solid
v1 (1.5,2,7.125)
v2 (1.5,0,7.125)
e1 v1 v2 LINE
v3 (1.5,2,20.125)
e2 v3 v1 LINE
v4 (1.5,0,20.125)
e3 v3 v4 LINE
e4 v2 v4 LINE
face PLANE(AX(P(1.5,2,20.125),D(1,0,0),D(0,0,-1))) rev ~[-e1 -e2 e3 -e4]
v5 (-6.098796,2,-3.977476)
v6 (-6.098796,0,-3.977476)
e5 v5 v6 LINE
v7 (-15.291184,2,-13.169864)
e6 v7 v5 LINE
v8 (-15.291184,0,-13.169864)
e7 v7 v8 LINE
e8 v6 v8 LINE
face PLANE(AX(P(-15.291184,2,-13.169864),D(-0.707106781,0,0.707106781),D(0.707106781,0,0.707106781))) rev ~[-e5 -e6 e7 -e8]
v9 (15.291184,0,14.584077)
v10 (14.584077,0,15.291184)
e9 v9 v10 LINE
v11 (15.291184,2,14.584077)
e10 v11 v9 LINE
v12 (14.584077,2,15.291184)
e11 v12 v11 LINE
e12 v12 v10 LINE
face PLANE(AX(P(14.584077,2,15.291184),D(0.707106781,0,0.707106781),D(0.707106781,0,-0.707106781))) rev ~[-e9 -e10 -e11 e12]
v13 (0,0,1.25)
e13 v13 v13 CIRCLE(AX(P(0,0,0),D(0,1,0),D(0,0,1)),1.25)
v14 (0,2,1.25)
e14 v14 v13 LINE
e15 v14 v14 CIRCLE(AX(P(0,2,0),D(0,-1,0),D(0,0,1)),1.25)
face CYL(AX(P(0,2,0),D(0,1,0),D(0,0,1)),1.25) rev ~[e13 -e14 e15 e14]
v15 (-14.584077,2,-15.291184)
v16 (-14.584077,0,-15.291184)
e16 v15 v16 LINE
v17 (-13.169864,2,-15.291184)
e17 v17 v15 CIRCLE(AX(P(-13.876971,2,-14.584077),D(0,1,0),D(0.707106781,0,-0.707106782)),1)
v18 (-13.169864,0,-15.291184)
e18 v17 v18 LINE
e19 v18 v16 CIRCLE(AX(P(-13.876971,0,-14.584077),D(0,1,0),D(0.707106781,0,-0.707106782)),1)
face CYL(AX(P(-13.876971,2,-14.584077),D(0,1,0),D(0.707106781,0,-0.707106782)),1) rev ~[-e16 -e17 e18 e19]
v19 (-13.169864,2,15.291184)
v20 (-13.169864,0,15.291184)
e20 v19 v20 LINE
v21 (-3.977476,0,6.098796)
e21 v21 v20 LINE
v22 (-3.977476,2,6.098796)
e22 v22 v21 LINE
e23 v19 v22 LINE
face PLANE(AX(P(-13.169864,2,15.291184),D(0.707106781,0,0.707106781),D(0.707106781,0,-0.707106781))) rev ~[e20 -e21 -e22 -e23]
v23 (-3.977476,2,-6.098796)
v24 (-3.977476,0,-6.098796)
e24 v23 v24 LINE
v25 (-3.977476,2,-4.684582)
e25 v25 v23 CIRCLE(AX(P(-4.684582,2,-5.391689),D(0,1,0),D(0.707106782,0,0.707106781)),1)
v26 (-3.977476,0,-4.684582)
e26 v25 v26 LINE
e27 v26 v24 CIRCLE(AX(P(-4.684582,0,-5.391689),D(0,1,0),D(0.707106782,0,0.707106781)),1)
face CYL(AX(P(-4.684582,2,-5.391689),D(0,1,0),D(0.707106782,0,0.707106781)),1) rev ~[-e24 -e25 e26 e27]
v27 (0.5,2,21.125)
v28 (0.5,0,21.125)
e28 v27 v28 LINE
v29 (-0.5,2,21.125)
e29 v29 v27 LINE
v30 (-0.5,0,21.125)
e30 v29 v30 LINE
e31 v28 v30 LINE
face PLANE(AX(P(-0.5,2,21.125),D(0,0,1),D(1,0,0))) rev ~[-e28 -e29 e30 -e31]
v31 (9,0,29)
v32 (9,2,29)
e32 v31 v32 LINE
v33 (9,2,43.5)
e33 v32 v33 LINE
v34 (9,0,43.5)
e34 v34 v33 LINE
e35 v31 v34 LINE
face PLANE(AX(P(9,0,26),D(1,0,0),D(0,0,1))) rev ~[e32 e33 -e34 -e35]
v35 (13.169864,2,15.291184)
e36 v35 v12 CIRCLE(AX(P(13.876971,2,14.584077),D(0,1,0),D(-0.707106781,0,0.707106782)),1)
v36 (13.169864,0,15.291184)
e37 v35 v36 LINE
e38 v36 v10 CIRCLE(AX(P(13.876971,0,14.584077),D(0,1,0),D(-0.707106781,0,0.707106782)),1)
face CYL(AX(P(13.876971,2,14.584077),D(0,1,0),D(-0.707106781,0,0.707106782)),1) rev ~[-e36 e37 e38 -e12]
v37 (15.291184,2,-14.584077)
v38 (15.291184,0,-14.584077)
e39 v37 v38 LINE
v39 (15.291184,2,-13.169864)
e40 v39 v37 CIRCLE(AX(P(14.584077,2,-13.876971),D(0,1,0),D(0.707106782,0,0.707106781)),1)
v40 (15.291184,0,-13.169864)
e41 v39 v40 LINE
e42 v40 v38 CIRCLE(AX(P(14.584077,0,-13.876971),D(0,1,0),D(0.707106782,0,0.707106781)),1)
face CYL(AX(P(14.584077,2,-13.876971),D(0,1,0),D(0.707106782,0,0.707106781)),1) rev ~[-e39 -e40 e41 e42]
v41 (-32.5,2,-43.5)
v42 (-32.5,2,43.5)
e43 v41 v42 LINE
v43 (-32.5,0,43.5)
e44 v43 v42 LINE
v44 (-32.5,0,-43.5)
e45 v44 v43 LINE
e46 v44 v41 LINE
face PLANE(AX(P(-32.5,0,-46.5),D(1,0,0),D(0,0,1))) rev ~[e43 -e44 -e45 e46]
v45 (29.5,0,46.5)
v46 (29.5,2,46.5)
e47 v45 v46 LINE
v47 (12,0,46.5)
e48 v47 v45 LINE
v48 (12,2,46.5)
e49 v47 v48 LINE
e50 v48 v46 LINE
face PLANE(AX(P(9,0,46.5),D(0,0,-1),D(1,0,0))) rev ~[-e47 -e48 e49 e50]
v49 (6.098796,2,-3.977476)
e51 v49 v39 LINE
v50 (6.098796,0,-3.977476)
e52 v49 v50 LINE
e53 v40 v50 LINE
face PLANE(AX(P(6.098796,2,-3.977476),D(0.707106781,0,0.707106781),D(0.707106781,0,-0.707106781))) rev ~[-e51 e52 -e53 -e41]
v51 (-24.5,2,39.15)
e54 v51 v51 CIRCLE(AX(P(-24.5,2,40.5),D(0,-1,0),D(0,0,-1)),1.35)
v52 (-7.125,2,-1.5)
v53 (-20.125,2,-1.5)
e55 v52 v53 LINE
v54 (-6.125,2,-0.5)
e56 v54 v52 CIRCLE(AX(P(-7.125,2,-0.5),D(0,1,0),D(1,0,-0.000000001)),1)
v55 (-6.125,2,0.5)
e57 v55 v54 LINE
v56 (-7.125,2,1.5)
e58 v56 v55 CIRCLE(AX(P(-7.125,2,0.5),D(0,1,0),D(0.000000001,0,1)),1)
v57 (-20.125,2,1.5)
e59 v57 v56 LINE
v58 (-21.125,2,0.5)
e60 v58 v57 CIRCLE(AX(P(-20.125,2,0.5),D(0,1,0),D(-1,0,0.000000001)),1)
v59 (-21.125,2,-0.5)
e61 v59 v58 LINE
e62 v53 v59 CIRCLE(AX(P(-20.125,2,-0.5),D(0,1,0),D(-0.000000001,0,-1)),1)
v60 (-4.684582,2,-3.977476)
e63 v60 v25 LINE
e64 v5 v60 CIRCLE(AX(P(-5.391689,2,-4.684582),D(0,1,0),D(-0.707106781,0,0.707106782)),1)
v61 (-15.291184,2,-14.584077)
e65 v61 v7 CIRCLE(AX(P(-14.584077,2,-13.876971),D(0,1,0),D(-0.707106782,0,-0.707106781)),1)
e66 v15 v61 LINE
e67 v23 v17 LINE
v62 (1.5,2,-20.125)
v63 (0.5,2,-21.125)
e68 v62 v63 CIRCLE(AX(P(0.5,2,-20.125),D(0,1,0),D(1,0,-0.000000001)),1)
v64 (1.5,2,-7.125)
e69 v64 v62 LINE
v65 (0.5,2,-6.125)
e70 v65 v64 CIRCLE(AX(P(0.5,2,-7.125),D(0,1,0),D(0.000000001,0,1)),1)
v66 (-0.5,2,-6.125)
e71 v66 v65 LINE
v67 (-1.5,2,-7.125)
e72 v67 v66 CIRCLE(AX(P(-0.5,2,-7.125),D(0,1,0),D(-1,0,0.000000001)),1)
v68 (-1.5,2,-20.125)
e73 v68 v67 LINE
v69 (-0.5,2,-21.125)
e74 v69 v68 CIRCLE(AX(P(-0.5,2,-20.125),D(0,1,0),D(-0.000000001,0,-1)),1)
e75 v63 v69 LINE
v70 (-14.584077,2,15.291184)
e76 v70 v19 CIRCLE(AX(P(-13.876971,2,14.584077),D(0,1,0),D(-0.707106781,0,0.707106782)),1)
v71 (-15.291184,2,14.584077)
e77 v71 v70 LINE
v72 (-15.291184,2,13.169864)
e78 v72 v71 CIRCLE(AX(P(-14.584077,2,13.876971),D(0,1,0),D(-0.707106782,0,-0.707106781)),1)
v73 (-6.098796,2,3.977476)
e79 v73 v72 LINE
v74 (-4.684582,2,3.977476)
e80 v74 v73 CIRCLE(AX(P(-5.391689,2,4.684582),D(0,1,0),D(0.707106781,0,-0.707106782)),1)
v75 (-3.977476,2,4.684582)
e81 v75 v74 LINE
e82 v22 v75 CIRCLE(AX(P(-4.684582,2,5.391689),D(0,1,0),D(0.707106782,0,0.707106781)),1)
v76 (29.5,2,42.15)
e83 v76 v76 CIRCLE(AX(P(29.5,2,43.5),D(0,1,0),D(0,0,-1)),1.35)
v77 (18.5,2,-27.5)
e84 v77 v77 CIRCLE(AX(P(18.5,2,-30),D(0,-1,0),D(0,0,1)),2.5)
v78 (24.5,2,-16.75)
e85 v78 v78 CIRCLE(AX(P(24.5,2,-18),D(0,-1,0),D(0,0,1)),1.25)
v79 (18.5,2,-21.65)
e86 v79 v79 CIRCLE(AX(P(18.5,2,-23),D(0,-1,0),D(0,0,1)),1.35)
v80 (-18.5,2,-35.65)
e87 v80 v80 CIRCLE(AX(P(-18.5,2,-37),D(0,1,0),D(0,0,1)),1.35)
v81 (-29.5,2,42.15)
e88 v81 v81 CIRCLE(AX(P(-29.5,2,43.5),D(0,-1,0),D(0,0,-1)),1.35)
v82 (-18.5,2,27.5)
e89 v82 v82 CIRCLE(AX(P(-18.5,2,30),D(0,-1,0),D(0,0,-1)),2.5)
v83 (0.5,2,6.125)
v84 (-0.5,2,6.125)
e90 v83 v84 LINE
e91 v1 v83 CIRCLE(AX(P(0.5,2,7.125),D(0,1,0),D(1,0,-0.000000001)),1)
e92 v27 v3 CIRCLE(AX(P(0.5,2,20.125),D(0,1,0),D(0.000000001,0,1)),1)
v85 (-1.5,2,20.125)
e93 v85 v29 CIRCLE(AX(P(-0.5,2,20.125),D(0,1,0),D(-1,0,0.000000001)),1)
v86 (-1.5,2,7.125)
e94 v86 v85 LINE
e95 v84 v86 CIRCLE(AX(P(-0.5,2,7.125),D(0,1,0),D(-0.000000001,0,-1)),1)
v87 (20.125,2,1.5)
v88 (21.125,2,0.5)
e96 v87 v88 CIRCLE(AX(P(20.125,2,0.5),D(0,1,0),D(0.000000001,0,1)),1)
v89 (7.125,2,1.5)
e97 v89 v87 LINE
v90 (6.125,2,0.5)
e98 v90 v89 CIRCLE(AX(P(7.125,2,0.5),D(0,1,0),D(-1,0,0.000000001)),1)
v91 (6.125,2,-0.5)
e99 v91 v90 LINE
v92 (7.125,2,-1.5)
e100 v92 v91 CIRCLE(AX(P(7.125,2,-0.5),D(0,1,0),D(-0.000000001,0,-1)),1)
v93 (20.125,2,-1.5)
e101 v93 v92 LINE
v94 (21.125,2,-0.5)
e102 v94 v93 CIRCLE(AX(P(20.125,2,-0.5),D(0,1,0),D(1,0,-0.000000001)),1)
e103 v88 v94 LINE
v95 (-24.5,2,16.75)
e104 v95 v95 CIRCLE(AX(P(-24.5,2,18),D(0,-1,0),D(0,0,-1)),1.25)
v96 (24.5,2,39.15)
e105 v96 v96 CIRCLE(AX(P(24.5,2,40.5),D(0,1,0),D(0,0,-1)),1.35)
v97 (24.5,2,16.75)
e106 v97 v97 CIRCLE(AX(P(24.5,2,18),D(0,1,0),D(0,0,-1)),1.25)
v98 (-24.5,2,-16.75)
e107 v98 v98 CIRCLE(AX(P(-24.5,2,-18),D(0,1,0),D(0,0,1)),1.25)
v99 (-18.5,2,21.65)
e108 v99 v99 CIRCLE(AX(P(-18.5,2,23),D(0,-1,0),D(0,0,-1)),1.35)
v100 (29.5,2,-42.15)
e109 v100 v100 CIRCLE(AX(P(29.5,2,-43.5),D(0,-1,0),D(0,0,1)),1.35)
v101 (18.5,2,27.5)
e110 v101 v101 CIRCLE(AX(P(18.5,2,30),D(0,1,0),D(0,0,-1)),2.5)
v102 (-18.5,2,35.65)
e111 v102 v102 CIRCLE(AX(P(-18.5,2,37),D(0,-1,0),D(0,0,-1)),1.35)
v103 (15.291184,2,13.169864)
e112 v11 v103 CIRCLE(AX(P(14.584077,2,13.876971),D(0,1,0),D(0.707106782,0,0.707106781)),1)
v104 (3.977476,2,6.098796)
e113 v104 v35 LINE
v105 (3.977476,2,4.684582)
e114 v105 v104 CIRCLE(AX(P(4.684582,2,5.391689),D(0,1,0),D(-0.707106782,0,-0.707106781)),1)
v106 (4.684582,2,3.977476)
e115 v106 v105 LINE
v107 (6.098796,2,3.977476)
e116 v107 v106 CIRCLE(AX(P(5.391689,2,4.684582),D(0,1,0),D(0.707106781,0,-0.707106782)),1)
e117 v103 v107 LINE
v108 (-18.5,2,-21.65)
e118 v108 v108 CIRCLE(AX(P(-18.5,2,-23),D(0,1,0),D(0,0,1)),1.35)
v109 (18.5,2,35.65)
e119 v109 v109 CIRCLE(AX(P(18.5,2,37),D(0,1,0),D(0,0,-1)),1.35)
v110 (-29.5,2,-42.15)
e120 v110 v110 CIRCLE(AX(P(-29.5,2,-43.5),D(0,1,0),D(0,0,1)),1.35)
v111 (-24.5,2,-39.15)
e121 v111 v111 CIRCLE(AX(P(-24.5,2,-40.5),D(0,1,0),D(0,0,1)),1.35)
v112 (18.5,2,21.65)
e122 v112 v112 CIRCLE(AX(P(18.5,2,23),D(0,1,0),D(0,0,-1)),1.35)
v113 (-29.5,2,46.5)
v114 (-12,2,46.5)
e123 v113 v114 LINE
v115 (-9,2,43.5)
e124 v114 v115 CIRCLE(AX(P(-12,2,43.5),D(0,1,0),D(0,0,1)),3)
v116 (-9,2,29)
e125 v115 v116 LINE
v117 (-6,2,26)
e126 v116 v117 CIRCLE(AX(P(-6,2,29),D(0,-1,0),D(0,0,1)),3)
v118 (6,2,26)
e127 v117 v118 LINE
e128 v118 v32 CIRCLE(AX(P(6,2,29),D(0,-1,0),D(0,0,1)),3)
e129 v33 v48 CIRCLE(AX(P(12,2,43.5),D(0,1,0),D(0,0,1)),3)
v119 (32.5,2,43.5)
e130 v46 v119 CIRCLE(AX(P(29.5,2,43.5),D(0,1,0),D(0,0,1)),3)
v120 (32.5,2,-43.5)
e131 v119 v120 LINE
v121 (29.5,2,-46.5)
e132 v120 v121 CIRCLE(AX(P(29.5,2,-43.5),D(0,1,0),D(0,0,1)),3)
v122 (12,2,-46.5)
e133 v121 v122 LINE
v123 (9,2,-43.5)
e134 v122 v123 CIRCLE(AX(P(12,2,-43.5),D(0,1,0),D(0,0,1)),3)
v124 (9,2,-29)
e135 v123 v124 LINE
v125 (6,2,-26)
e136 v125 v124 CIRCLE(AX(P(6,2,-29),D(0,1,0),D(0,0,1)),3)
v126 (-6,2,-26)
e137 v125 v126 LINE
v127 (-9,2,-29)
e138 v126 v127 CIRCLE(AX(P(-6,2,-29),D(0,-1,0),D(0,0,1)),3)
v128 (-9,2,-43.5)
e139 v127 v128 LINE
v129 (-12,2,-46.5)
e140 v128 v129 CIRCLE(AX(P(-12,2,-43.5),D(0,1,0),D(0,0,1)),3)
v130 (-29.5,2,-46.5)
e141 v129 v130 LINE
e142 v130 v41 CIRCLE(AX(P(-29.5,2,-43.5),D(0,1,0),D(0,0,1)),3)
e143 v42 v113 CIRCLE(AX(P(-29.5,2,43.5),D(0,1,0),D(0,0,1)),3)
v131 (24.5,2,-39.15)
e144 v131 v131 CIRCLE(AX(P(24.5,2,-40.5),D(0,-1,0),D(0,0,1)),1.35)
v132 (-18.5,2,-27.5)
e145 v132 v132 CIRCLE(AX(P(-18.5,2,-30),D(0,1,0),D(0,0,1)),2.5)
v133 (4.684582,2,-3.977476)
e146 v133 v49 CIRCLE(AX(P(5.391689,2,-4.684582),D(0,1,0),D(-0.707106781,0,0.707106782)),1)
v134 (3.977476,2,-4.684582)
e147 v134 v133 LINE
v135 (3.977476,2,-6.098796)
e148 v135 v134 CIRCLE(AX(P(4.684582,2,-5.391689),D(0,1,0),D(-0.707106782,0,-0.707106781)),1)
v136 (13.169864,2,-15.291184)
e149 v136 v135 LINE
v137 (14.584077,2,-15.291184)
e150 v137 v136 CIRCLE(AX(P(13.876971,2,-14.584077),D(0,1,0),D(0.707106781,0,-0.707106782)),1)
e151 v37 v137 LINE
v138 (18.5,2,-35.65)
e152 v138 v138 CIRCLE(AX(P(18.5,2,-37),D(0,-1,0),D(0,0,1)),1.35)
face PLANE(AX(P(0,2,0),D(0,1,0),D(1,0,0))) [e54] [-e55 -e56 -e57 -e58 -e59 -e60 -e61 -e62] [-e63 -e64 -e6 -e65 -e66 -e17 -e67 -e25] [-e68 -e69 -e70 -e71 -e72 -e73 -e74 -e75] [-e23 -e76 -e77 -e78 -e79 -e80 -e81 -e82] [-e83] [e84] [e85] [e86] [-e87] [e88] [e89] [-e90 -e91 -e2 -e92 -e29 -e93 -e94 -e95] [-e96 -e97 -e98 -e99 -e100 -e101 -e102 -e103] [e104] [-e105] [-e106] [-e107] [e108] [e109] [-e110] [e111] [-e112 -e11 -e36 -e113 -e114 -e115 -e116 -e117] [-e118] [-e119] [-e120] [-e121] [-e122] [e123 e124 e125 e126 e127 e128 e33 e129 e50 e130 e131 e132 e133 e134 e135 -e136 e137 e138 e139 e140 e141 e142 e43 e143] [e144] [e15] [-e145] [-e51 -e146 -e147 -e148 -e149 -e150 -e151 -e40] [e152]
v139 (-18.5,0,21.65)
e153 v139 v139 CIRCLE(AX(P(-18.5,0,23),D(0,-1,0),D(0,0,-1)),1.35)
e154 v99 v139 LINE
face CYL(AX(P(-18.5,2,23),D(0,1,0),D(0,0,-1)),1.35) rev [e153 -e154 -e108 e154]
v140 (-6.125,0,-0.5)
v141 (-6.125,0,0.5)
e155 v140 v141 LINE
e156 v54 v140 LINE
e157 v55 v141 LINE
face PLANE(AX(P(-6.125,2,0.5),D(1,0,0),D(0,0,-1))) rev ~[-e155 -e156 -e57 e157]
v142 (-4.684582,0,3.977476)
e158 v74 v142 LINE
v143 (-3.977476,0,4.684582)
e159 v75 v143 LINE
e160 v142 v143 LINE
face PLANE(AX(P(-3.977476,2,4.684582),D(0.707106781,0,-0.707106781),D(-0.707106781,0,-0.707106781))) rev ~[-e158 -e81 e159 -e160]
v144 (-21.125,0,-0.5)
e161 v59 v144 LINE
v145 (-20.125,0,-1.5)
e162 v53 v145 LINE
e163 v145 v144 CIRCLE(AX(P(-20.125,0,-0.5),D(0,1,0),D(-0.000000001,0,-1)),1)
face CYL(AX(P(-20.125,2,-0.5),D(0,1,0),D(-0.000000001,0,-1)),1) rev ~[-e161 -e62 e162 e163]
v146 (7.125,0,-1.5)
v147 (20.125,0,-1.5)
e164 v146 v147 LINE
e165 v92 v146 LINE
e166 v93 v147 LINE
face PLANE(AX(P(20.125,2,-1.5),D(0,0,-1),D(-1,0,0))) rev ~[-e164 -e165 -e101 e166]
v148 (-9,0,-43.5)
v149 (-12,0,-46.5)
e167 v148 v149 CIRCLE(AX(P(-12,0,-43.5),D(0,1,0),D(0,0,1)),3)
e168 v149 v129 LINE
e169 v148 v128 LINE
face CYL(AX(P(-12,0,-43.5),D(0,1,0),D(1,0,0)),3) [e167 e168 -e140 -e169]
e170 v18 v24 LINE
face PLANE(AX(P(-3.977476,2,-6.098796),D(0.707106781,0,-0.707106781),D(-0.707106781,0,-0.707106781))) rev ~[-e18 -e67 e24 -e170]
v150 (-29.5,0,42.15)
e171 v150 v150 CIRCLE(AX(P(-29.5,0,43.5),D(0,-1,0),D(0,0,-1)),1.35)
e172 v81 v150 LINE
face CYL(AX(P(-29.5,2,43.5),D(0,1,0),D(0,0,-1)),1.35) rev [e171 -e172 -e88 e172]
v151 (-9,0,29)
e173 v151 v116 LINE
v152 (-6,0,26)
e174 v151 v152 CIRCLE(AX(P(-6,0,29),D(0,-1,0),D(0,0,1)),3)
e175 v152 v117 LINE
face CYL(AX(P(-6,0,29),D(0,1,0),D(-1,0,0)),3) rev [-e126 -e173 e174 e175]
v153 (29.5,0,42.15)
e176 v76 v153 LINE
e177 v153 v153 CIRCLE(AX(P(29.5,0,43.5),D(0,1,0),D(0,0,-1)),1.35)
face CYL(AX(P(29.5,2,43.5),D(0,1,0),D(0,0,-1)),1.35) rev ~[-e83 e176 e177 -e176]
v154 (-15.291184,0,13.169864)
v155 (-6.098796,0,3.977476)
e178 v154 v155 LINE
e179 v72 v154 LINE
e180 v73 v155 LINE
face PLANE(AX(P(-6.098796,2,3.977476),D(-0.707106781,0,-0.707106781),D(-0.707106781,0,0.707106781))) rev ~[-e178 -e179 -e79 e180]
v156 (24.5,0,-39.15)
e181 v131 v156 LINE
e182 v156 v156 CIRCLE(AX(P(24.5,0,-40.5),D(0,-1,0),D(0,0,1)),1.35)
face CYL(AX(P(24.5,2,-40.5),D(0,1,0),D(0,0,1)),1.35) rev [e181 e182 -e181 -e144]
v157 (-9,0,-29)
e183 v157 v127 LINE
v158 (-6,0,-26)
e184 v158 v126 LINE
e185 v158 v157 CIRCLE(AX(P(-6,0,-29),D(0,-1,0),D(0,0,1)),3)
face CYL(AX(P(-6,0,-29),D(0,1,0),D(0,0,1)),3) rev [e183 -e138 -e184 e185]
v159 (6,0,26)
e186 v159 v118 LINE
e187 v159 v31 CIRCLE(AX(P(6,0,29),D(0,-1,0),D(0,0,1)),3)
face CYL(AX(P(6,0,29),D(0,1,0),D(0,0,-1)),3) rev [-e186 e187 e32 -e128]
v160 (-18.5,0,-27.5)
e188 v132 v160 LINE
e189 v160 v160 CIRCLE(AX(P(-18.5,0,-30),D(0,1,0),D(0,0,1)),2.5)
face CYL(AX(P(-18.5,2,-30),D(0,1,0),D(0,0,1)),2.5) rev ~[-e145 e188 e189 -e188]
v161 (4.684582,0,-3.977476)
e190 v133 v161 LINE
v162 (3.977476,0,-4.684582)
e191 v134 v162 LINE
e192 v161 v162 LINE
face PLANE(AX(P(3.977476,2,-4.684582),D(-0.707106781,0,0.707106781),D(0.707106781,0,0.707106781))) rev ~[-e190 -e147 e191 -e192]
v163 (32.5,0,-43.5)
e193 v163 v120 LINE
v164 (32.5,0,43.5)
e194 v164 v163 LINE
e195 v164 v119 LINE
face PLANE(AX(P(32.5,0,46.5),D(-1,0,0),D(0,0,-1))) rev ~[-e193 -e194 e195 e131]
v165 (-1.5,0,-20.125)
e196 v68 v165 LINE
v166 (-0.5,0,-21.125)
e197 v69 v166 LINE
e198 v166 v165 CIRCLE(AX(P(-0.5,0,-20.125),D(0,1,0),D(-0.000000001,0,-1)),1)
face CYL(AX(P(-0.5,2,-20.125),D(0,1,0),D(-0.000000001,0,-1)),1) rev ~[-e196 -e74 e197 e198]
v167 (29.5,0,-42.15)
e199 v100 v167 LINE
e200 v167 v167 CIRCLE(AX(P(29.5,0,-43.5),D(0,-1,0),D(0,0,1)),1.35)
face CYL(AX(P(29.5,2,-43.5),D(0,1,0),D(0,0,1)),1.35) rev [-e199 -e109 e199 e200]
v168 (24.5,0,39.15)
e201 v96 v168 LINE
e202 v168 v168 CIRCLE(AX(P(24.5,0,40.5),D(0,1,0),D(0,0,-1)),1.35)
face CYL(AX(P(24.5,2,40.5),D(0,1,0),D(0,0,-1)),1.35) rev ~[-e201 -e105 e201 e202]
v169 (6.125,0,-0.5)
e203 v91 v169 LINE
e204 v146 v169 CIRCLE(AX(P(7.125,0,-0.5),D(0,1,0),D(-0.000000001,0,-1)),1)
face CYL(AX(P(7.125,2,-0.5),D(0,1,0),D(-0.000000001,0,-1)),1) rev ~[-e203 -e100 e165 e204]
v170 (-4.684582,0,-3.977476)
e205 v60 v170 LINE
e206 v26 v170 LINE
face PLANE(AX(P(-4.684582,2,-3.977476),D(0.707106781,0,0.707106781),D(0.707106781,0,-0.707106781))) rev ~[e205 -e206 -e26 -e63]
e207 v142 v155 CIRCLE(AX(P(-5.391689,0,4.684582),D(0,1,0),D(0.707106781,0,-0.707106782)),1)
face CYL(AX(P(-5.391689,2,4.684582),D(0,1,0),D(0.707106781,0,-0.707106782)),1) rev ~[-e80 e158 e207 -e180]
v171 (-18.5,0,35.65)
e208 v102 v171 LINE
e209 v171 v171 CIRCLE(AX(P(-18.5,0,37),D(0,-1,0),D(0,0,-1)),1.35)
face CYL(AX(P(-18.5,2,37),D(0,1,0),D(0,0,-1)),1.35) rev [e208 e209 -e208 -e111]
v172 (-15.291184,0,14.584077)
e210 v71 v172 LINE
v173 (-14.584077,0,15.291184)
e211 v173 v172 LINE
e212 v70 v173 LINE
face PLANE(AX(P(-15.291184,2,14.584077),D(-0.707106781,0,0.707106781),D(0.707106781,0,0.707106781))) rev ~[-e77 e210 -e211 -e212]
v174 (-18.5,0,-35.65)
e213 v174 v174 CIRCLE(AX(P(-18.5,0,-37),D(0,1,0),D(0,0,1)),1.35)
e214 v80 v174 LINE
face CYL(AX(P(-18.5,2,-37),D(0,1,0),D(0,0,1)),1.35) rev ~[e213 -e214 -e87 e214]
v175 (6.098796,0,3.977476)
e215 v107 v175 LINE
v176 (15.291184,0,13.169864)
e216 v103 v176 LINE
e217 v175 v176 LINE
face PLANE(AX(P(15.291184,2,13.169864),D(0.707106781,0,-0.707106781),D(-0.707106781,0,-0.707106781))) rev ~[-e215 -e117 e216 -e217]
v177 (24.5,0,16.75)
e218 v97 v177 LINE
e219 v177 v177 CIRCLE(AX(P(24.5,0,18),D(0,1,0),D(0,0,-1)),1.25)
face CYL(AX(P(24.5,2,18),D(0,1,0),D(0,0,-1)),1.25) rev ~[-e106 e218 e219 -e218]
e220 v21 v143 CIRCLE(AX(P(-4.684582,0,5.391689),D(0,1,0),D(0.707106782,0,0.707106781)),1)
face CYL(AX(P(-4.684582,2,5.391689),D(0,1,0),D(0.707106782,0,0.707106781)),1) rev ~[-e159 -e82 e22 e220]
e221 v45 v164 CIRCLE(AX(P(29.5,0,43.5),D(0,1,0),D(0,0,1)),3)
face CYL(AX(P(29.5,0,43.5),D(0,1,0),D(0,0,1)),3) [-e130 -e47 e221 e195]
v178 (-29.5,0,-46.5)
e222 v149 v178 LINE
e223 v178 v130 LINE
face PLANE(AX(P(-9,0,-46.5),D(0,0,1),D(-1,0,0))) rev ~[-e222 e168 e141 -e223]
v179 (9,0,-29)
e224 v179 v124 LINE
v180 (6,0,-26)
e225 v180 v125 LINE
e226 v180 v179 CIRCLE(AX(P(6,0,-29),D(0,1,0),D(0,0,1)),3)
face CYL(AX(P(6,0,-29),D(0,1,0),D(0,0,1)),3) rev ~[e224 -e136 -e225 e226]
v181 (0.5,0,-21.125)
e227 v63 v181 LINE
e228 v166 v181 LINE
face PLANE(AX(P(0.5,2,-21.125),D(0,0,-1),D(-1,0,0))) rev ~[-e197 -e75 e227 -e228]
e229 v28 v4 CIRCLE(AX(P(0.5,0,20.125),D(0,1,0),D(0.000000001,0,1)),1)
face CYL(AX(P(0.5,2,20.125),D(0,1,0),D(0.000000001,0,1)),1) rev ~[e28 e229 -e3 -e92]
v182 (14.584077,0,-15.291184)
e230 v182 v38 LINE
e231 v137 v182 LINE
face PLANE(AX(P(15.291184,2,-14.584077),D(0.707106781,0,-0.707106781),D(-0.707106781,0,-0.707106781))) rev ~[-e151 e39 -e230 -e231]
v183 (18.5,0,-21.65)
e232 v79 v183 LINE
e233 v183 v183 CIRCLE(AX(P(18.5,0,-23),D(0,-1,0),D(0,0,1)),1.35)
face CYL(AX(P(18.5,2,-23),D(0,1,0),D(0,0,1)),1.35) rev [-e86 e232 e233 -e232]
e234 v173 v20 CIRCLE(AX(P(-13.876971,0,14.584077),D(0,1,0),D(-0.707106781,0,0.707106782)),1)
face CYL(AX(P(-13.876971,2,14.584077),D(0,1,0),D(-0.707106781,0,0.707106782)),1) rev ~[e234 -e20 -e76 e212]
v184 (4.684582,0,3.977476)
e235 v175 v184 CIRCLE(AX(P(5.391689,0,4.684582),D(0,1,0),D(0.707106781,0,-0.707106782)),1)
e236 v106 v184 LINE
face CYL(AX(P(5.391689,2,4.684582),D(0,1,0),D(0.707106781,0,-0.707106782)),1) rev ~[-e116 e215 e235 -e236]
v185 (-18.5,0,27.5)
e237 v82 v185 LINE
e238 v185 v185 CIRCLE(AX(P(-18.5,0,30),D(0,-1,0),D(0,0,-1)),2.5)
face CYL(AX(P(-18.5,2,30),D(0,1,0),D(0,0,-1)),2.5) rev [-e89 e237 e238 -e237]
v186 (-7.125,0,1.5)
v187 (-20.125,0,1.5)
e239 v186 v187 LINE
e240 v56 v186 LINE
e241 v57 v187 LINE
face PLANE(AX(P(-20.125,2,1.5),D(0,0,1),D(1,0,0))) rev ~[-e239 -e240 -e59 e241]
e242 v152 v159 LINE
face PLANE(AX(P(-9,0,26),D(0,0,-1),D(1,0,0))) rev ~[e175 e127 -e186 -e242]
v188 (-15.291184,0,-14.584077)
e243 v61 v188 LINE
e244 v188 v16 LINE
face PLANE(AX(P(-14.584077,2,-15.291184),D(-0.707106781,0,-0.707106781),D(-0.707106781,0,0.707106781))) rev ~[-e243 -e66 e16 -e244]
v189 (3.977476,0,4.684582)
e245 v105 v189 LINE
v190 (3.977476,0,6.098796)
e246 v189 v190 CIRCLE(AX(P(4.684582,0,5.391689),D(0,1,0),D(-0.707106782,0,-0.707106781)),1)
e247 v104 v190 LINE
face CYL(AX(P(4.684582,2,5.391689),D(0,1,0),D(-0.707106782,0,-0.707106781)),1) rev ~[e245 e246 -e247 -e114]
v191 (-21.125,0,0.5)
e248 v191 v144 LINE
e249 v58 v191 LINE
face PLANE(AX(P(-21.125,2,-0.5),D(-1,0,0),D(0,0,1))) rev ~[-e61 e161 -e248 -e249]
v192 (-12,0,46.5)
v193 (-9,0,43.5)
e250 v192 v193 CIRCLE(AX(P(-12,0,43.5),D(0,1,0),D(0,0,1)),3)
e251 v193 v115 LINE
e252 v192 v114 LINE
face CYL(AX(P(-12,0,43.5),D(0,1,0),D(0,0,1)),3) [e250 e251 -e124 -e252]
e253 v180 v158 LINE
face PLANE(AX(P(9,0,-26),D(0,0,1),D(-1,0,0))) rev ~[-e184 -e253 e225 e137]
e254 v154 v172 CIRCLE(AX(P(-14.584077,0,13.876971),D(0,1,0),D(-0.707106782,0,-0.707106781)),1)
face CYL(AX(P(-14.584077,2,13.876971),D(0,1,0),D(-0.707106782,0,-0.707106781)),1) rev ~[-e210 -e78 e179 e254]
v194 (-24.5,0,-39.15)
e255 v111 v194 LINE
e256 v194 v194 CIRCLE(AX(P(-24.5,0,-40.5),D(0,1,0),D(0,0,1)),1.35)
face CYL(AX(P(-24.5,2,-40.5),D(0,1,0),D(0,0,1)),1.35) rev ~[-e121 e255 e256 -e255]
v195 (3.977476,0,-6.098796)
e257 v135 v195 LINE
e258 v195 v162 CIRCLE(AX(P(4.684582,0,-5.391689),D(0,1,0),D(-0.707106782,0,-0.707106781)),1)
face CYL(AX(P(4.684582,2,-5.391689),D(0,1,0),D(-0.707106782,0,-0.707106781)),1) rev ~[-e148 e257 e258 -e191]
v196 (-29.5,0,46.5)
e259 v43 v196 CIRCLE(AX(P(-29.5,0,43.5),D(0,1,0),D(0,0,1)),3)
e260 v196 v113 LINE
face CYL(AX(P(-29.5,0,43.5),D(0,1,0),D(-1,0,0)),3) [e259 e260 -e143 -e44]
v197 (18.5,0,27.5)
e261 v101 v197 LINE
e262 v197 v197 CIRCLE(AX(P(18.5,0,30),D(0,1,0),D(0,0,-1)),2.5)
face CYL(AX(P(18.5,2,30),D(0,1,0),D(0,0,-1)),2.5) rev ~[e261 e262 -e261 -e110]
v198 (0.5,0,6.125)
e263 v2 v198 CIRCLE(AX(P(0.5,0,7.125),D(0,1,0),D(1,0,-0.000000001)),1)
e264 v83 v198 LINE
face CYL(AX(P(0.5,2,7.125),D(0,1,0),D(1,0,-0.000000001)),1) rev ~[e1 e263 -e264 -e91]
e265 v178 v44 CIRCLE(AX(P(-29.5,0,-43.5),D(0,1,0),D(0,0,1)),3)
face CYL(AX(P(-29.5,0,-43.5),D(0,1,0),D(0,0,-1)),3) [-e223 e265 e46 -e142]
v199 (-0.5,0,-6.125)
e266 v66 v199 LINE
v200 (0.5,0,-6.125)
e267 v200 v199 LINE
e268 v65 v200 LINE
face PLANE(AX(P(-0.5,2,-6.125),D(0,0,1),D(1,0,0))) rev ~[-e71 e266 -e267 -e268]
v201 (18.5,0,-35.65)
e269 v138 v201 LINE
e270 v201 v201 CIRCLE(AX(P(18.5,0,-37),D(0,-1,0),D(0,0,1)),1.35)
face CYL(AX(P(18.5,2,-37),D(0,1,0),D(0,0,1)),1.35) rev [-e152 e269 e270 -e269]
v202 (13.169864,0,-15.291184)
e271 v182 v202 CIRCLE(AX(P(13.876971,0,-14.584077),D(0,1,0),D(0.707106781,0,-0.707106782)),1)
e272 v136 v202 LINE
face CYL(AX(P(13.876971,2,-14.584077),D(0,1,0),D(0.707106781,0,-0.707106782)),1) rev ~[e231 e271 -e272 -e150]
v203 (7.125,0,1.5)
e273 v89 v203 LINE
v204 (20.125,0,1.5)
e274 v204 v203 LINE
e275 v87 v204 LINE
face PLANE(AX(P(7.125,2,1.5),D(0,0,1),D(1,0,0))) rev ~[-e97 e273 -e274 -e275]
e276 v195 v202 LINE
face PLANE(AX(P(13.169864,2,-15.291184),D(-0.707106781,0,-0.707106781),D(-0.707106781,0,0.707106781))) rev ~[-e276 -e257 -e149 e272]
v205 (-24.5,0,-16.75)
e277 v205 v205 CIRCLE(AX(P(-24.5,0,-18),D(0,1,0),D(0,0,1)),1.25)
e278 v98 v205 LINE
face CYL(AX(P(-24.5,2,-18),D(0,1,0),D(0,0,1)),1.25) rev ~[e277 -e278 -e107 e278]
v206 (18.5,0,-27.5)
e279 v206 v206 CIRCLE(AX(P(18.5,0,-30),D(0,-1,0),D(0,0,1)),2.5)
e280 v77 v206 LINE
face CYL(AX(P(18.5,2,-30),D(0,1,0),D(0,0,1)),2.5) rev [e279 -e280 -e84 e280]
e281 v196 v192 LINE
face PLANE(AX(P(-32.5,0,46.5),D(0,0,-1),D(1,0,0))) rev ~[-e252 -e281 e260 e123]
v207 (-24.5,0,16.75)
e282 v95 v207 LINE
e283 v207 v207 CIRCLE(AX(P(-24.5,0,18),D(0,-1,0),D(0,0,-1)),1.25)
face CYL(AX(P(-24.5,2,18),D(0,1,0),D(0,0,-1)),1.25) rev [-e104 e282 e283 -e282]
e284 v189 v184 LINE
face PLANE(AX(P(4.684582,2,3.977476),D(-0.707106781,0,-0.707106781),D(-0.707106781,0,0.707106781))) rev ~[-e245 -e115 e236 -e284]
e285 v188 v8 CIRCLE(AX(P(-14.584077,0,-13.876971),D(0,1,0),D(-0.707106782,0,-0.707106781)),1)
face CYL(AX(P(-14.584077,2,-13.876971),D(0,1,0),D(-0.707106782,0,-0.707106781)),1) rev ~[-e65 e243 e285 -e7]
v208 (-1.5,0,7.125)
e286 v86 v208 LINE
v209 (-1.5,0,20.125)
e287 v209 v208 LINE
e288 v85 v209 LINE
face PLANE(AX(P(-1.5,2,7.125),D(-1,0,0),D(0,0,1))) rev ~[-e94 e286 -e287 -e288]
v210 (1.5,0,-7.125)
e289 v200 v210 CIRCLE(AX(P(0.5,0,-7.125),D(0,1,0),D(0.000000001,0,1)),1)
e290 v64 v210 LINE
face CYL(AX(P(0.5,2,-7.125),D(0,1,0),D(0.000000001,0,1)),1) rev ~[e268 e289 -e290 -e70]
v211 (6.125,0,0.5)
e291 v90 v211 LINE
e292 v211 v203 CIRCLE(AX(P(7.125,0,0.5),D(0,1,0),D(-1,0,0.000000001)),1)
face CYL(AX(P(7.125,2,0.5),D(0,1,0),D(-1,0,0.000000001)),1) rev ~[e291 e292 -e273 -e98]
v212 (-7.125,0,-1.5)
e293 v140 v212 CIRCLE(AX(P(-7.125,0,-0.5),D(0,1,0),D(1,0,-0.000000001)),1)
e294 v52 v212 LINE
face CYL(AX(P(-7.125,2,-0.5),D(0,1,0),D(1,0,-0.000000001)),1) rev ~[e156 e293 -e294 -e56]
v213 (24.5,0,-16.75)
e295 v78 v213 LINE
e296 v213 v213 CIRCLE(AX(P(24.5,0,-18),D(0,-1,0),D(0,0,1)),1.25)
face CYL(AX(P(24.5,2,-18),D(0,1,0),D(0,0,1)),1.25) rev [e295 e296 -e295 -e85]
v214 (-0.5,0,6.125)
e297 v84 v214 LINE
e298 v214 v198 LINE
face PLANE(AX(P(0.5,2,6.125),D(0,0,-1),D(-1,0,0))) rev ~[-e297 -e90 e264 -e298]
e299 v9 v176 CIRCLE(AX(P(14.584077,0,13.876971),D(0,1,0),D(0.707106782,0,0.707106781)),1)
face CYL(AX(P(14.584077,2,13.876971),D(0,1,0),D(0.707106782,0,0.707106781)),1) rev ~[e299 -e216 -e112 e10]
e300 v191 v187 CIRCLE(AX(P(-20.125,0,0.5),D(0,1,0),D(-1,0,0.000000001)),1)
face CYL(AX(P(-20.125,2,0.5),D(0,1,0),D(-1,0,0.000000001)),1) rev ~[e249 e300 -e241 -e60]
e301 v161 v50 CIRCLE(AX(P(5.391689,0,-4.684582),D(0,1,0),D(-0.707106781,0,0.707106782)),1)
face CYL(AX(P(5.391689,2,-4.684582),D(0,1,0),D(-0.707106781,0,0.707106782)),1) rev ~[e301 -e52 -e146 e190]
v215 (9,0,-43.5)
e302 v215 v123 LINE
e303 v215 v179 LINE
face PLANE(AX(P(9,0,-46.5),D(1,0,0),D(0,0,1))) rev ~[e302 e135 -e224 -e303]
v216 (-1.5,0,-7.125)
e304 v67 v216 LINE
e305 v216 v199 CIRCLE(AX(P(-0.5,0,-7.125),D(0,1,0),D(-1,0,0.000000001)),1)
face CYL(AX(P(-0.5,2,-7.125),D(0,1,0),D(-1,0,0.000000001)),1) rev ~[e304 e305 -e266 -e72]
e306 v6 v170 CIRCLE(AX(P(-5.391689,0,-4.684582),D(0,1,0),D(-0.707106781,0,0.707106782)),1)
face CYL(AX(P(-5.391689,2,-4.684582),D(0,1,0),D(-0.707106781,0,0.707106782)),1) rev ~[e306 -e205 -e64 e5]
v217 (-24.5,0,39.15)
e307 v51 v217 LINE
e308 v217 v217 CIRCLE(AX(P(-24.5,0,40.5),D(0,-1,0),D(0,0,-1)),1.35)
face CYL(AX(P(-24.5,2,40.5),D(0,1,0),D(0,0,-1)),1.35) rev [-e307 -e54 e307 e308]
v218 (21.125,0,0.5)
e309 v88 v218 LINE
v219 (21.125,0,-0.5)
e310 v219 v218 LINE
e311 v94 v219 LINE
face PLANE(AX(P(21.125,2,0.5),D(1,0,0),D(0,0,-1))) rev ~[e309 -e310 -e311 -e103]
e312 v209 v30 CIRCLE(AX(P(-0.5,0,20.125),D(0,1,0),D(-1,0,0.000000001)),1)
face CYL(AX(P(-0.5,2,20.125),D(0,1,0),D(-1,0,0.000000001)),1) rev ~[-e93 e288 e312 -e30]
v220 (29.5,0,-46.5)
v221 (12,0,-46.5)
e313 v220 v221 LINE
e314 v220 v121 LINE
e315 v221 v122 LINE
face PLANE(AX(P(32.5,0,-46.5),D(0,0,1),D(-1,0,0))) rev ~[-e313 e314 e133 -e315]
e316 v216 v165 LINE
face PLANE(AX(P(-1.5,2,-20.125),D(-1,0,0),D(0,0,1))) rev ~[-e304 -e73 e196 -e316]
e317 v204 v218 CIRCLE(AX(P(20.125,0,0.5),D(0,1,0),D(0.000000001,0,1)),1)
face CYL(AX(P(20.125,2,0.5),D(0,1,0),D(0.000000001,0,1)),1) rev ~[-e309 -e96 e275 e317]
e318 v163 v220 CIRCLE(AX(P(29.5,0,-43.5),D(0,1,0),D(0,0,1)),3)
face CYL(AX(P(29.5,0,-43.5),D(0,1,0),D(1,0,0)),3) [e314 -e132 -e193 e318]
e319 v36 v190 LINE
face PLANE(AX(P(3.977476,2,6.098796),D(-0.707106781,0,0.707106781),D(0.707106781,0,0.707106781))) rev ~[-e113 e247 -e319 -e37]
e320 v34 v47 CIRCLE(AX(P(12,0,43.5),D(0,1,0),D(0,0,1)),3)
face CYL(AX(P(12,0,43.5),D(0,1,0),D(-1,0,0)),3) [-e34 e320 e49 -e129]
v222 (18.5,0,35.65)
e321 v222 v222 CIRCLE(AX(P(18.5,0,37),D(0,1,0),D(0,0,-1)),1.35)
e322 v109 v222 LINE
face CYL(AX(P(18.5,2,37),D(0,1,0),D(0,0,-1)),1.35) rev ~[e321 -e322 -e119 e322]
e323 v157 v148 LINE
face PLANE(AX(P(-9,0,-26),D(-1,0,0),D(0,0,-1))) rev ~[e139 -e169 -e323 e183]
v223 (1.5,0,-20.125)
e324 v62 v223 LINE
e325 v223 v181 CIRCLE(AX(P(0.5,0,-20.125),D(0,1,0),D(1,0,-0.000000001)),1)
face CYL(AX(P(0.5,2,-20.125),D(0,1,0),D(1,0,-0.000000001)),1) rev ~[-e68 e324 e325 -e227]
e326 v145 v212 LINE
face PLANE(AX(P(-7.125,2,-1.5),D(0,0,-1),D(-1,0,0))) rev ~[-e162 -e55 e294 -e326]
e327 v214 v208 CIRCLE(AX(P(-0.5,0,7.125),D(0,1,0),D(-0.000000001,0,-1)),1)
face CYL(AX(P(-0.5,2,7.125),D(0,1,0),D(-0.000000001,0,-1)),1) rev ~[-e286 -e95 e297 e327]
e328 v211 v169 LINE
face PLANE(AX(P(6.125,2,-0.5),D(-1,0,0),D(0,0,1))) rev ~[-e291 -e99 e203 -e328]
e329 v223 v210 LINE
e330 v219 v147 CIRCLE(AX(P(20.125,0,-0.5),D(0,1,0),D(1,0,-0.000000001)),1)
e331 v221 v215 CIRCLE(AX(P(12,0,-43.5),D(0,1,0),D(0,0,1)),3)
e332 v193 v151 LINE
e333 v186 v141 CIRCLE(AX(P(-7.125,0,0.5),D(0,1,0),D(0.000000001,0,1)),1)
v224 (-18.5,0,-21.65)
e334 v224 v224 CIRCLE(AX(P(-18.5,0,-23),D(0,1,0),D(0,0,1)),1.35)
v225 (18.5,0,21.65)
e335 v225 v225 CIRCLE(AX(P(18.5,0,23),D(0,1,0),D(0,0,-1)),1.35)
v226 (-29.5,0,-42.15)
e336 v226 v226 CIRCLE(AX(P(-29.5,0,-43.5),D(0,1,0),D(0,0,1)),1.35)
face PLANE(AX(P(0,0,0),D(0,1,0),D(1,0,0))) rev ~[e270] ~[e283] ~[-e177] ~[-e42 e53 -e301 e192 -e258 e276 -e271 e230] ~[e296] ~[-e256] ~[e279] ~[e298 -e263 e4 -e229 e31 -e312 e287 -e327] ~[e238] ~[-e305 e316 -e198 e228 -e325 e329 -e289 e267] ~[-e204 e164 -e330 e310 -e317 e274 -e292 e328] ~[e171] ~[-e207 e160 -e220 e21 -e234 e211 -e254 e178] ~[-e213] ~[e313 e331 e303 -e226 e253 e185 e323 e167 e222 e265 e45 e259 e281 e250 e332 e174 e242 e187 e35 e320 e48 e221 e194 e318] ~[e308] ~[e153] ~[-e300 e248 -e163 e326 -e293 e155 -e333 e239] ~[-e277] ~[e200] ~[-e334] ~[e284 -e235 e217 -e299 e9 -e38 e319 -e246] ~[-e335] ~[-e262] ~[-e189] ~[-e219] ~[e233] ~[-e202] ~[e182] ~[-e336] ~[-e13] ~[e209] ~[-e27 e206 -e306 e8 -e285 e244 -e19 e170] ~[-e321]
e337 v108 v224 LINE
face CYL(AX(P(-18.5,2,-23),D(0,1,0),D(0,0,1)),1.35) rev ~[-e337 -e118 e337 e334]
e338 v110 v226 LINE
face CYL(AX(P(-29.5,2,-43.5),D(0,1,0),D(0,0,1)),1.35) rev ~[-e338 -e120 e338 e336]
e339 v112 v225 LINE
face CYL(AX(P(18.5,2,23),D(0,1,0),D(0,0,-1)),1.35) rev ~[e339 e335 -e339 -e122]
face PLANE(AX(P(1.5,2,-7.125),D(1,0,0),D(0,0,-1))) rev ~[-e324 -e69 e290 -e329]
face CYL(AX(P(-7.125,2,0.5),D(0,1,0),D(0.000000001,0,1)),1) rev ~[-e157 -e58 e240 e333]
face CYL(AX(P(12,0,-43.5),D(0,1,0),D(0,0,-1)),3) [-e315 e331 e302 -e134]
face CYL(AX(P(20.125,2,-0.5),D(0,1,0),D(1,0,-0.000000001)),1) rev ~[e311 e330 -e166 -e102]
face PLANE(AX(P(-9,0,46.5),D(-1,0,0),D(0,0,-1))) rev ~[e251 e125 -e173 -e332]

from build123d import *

# Parameters (mm, degrees)
BOSS_EXTRUDE1_DEPTH                          = 2
FILLET1_R                                    = 3
CUT_EXTRUDE1_REACH                           = 58.767
SKETCH2_R                                    = 1.25
CIRPATTERN1_COUNT                            = 8
CUT_EXTRUDE2_REACH                           = 58.767
SKETCH3_R                                    = 1.35
SKETCH3_R_2                                  = 1.25
SKETCH3_R_3                                  = 2.5
MIRROR1_AT_THE_SECOND_PLANE_COPY_1_REACH     = 58.767
MIRROR1_AT_THE_SECOND_PLANE_COPY_1_SKETC_R   = 1.35
MIRROR1_AT_THE_SECOND_PLANE_COPY_1_SKETC_R_2 = 1.25
MIRROR1_AT_THE_SECOND_PLANE_COPY_1_SKETC_R_3 = 2.5


with BuildPart() as part:
    # Sketch1 → Boss-Extrude1 (new body)
    with BuildSketch(Plane(origin=(0, 0, 0), x_dir=(1, 0, 0), z_dir=(0, 1, 0))):
        Polygon((9, 26), (-9, 26), (-9, 46.5), (-32.5, 46.5), (-32.5, -46.5), (-9, -46.5), (-9, -26), (9, -26), (9, -46.5), (32.5, -46.5), (32.5, 46.5), (9, 46.5), align=None)
    extrude(amount=BOSS_EXTRUDE1_DEPTH)

    # Fillet1
    fillet1_edges = [part.edges().sort_by_distance(p)[0] for p in [
        (-9, 1, -26),
        (9, 1, -26),
        (9, 1, -46.5),
        (32.5, 1, -46.5),
        (32.5, 1, 46.5),
        (9, 1, 46.5),
        (9, 1, 26),
        (-9, 1, 26),
        (-9, 1, 46.5),
        (-32.5, 1, 46.5),
        (-32.5, 1, -46.5),
        (-9, 1, -46.5),
    ]]
    fillet(fillet1_edges, radius=FILLET1_R)

    # Sketch2 → Cut-Extrude1 (cut, up to next)
    with BuildSketch(Plane(origin=(0, 2, 0), x_dir=(1, 0, 0), z_dir=(0, 1, 0)), mode=Mode.PRIVATE) as cut_extrude1_sk1:
        with Locations(Location((0, 0, 0), (0, 0, 270))):
            Circle(SKETCH2_R)
    cut_extrude1_tool1 = extrude(cut_extrude1_sk1.sketch, amount=-CUT_EXTRUDE1_REACH, mode=Mode.PRIVATE) & part.part
    # Sketch2 → Cut-Extrude1 (cut, up to next)
    with BuildSketch(Plane(origin=(0, 2, 0), x_dir=(1, 0, 0), z_dir=(0, 1, 0)), mode=Mode.PRIVATE) as cut_extrude1_sk2:
        with BuildLine():
            Line((0.5, 21.125), (-0.5, 21.125))
            ThreePointArc((-0.5, 21.125), (-1.207106781, 20.832106781), (-1.5, 20.125))
            Line((-1.5, 20.125), (-1.5, 7.125))
            ThreePointArc((-1.5, 7.125), (-1.207106781, 6.417893219), (-0.5, 6.125))
            Line((-0.5, 6.125), (0.5, 6.125))
            ThreePointArc((0.5, 6.125), (1.207106781, 6.417893219), (1.5, 7.125))
            Line((1.5, 7.125), (1.5, 20.125))
            ThreePointArc((1.5, 20.125), (1.207106781, 20.832106781), (0.5, 21.125))
        make_face()
    cut_extrude1_tool2 = extrude(cut_extrude1_sk2.sketch, amount=-CUT_EXTRUDE1_REACH, mode=Mode.PRIVATE) & part.part
    cut_extrude1_1 = cut_extrude1_tool1.solids().sort_by_distance((0, 2, 0))[0]
    add(cut_extrude1_1, mode=Mode.SUBTRACT)
    cut_extrude1_2 = cut_extrude1_tool2.solids().sort_by_distance((0, 2, -13.625))[0]
    add(cut_extrude1_2, mode=Mode.SUBTRACT)
    cut_extrude1 = cut_extrude1_1 + cut_extrude1_2  # Cut-Extrude1 as one shape, for the pattern or mirror that repeats it

    # CirPattern1: Cut-Extrude1 ×8 about axis
    cirpattern1_axis = Axis((0, 0, 0), (0, 1, 0))
    for i in range(1, CIRPATTERN1_COUNT):
        add(cut_extrude1.rotate(cirpattern1_axis, i * 360 / CIRPATTERN1_COUNT), mode=Mode.SUBTRACT)

    # Sketch3 → Cut-Extrude2 (cut, up to next)
    with BuildSketch(Plane(origin=(0, 2, 0), x_dir=(1, 0, 0), z_dir=(0, 1, 0)), mode=Mode.PRIVATE) as cut_extrude2_sk1:
        with Locations(Location((-29.5, 43.5, 0), (0, 0, 270))):
            Circle(SKETCH3_R)
    cut_extrude2_tool1 = extrude(cut_extrude2_sk1.sketch, amount=-CUT_EXTRUDE2_REACH, mode=Mode.PRIVATE) & part.part
    # Sketch3 → Cut-Extrude2 (cut, up to next)
    with BuildSketch(Plane(origin=(0, 2, 0), x_dir=(1, 0, 0), z_dir=(0, 1, 0)), mode=Mode.PRIVATE) as cut_extrude2_sk2:
        with Locations(Location((-24.5, 40.5, 0), (0, 0, 270))):
            Circle(SKETCH3_R)
    cut_extrude2_tool2 = extrude(cut_extrude2_sk2.sketch, amount=-CUT_EXTRUDE2_REACH, mode=Mode.PRIVATE) & part.part
    # Sketch3 → Cut-Extrude2 (cut, up to next)
    with BuildSketch(Plane(origin=(0, 2, 0), x_dir=(1, 0, 0), z_dir=(0, 1, 0)), mode=Mode.PRIVATE) as cut_extrude2_sk3:
        with Locations(Location((-24.5, 18, 0), (0, 0, 270))):
            Circle(SKETCH3_R_2)
    cut_extrude2_tool3 = extrude(cut_extrude2_sk3.sketch, amount=-CUT_EXTRUDE2_REACH, mode=Mode.PRIVATE) & part.part
    # Sketch3 → Cut-Extrude2 (cut, up to next)
    with BuildSketch(Plane(origin=(0, 2, 0), x_dir=(1, 0, 0), z_dir=(0, 1, 0)), mode=Mode.PRIVATE) as cut_extrude2_sk4:
        with Locations(Location((-18.5, 37, 0), (0, 0, 270))):
            Circle(SKETCH3_R)
    cut_extrude2_tool4 = extrude(cut_extrude2_sk4.sketch, amount=-CUT_EXTRUDE2_REACH, mode=Mode.PRIVATE) & part.part
    # Sketch3 → Cut-Extrude2 (cut, up to next)
    with BuildSketch(Plane(origin=(0, 2, 0), x_dir=(1, 0, 0), z_dir=(0, 1, 0)), mode=Mode.PRIVATE) as cut_extrude2_sk5:
        with Locations(Location((-18.5, 23, 0), (0, 0, 270))):
            Circle(SKETCH3_R)
    cut_extrude2_tool5 = extrude(cut_extrude2_sk5.sketch, amount=-CUT_EXTRUDE2_REACH, mode=Mode.PRIVATE) & part.part
    # Sketch3 → Cut-Extrude2 (cut, up to next)
    with BuildSketch(Plane(origin=(0, 2, 0), x_dir=(1, 0, 0), z_dir=(0, 1, 0)), mode=Mode.PRIVATE) as cut_extrude2_sk6:
        with Locations(Location((-18.5, 30, 0), (0, 0, 270))):
            Circle(SKETCH3_R_3)
    cut_extrude2_tool6 = extrude(cut_extrude2_sk6.sketch, amount=-CUT_EXTRUDE2_REACH, mode=Mode.PRIVATE) & part.part
    cut_extrude2_1 = cut_extrude2_tool1.solids().sort_by_distance((-29.5, 2, -43.5))[0]
    add(cut_extrude2_1, mode=Mode.SUBTRACT)
    cut_extrude2_2 = cut_extrude2_tool2.solids().sort_by_distance((-24.5, 2, -40.5))[0]
    add(cut_extrude2_2, mode=Mode.SUBTRACT)
    cut_extrude2_3 = cut_extrude2_tool3.solids().sort_by_distance((-24.5, 2, -18))[0]
    add(cut_extrude2_3, mode=Mode.SUBTRACT)
    cut_extrude2_4 = cut_extrude2_tool4.solids().sort_by_distance((-18.5, 2, -37))[0]
    add(cut_extrude2_4, mode=Mode.SUBTRACT)
    cut_extrude2_5 = cut_extrude2_tool5.solids().sort_by_distance((-18.5, 2, -23))[0]
    add(cut_extrude2_5, mode=Mode.SUBTRACT)
    cut_extrude2_6 = cut_extrude2_tool6.solids().sort_by_distance((-18.5, 2, -30))[0]
    add(cut_extrude2_6, mode=Mode.SUBTRACT)
    cut_extrude2 = cut_extrude2_1 + cut_extrude2_2 + cut_extrude2_3 + cut_extrude2_4 + cut_extrude2_5 + cut_extrude2_6  # Cut-Extrude2 as one shape, for the pattern or mirror that repeats it

    # Mirror1: Cut-Extrude2 across plane
    add(cut_extrude2.mirror(Plane(origin=(0, 0, 0), x_dir=(0, 0, 1), z_dir=(1, 0, 0))), mode=Mode.SUBTRACT)

    # Mirror1 at the second plane: Cut-Extrude2 across plane
    add(cut_extrude2.mirror(Plane.XY), mode=Mode.SUBTRACT)

    # Mirror1 at the second plane copy 1 sketc → Mirror1 at the second plane copy 1 (cut, up to next)
    with BuildSketch(Plane(origin=(0, 2, 0), x_dir=(-1, 0, 0), z_dir=(0, 1, 0)), mode=Mode.PRIVATE) as mirror1_at_the_second_plane_copy_1_sk1:
        with Locations(Location((-29.5, 43.5, 0), (0, 0, 270))):
            Circle(MIRROR1_AT_THE_SECOND_PLANE_COPY_1_SKETC_R)
    mirror1_at_the_second_plane_copy_1_tool1 = extrude(mirror1_at_the_second_plane_copy_1_sk1.sketch, amount=-MIRROR1_AT_THE_SECOND_PLANE_COPY_1_REACH, mode=Mode.PRIVATE) & part.part
    # Mirror1 at the second plane copy 1 sketc → Mirror1 at the second plane copy 1 (cut, up to next)
    with BuildSketch(Plane(origin=(0, 2, 0), x_dir=(-1, 0, 0), z_dir=(0, 1, 0)), mode=Mode.PRIVATE) as mirror1_at_the_second_plane_copy_1_sk2:
        with Locations(Location((-24.5, 40.5, 0), (0, 0, 270))):
            Circle(MIRROR1_AT_THE_SECOND_PLANE_COPY_1_SKETC_R)
    mirror1_at_the_second_plane_copy_1_tool2 = extrude(mirror1_at_the_second_plane_copy_1_sk2.sketch, amount=-MIRROR1_AT_THE_SECOND_PLANE_COPY_1_REACH, mode=Mode.PRIVATE) & part.part
    # Mirror1 at the second plane copy 1 sketc → Mirror1 at the second plane copy 1 (cut, up to next)
    with BuildSketch(Plane(origin=(0, 2, 0), x_dir=(-1, 0, 0), z_dir=(0, 1, 0)), mode=Mode.PRIVATE) as mirror1_at_the_second_plane_copy_1_sk3:
        with Locations(Location((-24.5, 18, 0), (0, 0, 270))):
            Circle(MIRROR1_AT_THE_SECOND_PLANE_COPY_1_SKETC_R_2)
    mirror1_at_the_second_plane_copy_1_tool3 = extrude(mirror1_at_the_second_plane_copy_1_sk3.sketch, amount=-MIRROR1_AT_THE_SECOND_PLANE_COPY_1_REACH, mode=Mode.PRIVATE) & part.part
    # Mirror1 at the second plane copy 1 sketc → Mirror1 at the second plane copy 1 (cut, up to next)
    with BuildSketch(Plane(origin=(0, 2, 0), x_dir=(-1, 0, 0), z_dir=(0, 1, 0)), mode=Mode.PRIVATE) as mirror1_at_the_second_plane_copy_1_sk4:
        with Locations(Location((-18.5, 37, 0), (0, 0, 270))):
            Circle(MIRROR1_AT_THE_SECOND_PLANE_COPY_1_SKETC_R)
    mirror1_at_the_second_plane_copy_1_tool4 = extrude(mirror1_at_the_second_plane_copy_1_sk4.sketch, amount=-MIRROR1_AT_THE_SECOND_PLANE_COPY_1_REACH, mode=Mode.PRIVATE) & part.part
    # Mirror1 at the second plane copy 1 sketc → Mirror1 at the second plane copy 1 (cut, up to next)
    with BuildSketch(Plane(origin=(0, 2, 0), x_dir=(-1, 0, 0), z_dir=(0, 1, 0)), mode=Mode.PRIVATE) as mirror1_at_the_second_plane_copy_1_sk5:
        with Locations(Location((-18.5, 23, 0), (0, 0, 270))):
            Circle(MIRROR1_AT_THE_SECOND_PLANE_COPY_1_SKETC_R)
    mirror1_at_the_second_plane_copy_1_tool5 = extrude(mirror1_at_the_second_plane_copy_1_sk5.sketch, amount=-MIRROR1_AT_THE_SECOND_PLANE_COPY_1_REACH, mode=Mode.PRIVATE) & part.part
    # Mirror1 at the second plane copy 1 sketc → Mirror1 at the second plane copy 1 (cut, up to next)
    with BuildSketch(Plane(origin=(0, 2, 0), x_dir=(-1, 0, 0), z_dir=(0, 1, 0)), mode=Mode.PRIVATE) as mirror1_at_the_second_plane_copy_1_sk6:
        with Locations(Location((-18.5, 30, 0), (0, 0, 270))):
            Circle(MIRROR1_AT_THE_SECOND_PLANE_COPY_1_SKETC_R_3)
    mirror1_at_the_second_plane_copy_1_tool6 = extrude(mirror1_at_the_second_plane_copy_1_sk6.sketch, amount=-MIRROR1_AT_THE_SECOND_PLANE_COPY_1_REACH, mode=Mode.PRIVATE) & part.part
    add(mirror1_at_the_second_plane_copy_1_tool1.solids().sort_by_distance((29.5, 2, 43.5))[0], mode=Mode.SUBTRACT)
    add(mirror1_at_the_second_plane_copy_1_tool2.solids().sort_by_distance((24.5, 2, 40.5))[0], mode=Mode.SUBTRACT)
    add(mirror1_at_the_second_plane_copy_1_tool3.solids().sort_by_distance((24.5, 2, 18))[0], mode=Mode.SUBTRACT)
    add(mirror1_at_the_second_plane_copy_1_tool4.solids().sort_by_distance((18.5, 2, 37))[0], mode=Mode.SUBTRACT)
    add(mirror1_at_the_second_plane_copy_1_tool5.solids().sort_by_distance((18.5, 2, 23))[0], mode=Mode.SUBTRACT)
    add(mirror1_at_the_second_plane_copy_1_tool6.solids().sort_by_distance((18.5, 2, 30))[0], mode=Mode.SUBTRACT)


solid = part.part
